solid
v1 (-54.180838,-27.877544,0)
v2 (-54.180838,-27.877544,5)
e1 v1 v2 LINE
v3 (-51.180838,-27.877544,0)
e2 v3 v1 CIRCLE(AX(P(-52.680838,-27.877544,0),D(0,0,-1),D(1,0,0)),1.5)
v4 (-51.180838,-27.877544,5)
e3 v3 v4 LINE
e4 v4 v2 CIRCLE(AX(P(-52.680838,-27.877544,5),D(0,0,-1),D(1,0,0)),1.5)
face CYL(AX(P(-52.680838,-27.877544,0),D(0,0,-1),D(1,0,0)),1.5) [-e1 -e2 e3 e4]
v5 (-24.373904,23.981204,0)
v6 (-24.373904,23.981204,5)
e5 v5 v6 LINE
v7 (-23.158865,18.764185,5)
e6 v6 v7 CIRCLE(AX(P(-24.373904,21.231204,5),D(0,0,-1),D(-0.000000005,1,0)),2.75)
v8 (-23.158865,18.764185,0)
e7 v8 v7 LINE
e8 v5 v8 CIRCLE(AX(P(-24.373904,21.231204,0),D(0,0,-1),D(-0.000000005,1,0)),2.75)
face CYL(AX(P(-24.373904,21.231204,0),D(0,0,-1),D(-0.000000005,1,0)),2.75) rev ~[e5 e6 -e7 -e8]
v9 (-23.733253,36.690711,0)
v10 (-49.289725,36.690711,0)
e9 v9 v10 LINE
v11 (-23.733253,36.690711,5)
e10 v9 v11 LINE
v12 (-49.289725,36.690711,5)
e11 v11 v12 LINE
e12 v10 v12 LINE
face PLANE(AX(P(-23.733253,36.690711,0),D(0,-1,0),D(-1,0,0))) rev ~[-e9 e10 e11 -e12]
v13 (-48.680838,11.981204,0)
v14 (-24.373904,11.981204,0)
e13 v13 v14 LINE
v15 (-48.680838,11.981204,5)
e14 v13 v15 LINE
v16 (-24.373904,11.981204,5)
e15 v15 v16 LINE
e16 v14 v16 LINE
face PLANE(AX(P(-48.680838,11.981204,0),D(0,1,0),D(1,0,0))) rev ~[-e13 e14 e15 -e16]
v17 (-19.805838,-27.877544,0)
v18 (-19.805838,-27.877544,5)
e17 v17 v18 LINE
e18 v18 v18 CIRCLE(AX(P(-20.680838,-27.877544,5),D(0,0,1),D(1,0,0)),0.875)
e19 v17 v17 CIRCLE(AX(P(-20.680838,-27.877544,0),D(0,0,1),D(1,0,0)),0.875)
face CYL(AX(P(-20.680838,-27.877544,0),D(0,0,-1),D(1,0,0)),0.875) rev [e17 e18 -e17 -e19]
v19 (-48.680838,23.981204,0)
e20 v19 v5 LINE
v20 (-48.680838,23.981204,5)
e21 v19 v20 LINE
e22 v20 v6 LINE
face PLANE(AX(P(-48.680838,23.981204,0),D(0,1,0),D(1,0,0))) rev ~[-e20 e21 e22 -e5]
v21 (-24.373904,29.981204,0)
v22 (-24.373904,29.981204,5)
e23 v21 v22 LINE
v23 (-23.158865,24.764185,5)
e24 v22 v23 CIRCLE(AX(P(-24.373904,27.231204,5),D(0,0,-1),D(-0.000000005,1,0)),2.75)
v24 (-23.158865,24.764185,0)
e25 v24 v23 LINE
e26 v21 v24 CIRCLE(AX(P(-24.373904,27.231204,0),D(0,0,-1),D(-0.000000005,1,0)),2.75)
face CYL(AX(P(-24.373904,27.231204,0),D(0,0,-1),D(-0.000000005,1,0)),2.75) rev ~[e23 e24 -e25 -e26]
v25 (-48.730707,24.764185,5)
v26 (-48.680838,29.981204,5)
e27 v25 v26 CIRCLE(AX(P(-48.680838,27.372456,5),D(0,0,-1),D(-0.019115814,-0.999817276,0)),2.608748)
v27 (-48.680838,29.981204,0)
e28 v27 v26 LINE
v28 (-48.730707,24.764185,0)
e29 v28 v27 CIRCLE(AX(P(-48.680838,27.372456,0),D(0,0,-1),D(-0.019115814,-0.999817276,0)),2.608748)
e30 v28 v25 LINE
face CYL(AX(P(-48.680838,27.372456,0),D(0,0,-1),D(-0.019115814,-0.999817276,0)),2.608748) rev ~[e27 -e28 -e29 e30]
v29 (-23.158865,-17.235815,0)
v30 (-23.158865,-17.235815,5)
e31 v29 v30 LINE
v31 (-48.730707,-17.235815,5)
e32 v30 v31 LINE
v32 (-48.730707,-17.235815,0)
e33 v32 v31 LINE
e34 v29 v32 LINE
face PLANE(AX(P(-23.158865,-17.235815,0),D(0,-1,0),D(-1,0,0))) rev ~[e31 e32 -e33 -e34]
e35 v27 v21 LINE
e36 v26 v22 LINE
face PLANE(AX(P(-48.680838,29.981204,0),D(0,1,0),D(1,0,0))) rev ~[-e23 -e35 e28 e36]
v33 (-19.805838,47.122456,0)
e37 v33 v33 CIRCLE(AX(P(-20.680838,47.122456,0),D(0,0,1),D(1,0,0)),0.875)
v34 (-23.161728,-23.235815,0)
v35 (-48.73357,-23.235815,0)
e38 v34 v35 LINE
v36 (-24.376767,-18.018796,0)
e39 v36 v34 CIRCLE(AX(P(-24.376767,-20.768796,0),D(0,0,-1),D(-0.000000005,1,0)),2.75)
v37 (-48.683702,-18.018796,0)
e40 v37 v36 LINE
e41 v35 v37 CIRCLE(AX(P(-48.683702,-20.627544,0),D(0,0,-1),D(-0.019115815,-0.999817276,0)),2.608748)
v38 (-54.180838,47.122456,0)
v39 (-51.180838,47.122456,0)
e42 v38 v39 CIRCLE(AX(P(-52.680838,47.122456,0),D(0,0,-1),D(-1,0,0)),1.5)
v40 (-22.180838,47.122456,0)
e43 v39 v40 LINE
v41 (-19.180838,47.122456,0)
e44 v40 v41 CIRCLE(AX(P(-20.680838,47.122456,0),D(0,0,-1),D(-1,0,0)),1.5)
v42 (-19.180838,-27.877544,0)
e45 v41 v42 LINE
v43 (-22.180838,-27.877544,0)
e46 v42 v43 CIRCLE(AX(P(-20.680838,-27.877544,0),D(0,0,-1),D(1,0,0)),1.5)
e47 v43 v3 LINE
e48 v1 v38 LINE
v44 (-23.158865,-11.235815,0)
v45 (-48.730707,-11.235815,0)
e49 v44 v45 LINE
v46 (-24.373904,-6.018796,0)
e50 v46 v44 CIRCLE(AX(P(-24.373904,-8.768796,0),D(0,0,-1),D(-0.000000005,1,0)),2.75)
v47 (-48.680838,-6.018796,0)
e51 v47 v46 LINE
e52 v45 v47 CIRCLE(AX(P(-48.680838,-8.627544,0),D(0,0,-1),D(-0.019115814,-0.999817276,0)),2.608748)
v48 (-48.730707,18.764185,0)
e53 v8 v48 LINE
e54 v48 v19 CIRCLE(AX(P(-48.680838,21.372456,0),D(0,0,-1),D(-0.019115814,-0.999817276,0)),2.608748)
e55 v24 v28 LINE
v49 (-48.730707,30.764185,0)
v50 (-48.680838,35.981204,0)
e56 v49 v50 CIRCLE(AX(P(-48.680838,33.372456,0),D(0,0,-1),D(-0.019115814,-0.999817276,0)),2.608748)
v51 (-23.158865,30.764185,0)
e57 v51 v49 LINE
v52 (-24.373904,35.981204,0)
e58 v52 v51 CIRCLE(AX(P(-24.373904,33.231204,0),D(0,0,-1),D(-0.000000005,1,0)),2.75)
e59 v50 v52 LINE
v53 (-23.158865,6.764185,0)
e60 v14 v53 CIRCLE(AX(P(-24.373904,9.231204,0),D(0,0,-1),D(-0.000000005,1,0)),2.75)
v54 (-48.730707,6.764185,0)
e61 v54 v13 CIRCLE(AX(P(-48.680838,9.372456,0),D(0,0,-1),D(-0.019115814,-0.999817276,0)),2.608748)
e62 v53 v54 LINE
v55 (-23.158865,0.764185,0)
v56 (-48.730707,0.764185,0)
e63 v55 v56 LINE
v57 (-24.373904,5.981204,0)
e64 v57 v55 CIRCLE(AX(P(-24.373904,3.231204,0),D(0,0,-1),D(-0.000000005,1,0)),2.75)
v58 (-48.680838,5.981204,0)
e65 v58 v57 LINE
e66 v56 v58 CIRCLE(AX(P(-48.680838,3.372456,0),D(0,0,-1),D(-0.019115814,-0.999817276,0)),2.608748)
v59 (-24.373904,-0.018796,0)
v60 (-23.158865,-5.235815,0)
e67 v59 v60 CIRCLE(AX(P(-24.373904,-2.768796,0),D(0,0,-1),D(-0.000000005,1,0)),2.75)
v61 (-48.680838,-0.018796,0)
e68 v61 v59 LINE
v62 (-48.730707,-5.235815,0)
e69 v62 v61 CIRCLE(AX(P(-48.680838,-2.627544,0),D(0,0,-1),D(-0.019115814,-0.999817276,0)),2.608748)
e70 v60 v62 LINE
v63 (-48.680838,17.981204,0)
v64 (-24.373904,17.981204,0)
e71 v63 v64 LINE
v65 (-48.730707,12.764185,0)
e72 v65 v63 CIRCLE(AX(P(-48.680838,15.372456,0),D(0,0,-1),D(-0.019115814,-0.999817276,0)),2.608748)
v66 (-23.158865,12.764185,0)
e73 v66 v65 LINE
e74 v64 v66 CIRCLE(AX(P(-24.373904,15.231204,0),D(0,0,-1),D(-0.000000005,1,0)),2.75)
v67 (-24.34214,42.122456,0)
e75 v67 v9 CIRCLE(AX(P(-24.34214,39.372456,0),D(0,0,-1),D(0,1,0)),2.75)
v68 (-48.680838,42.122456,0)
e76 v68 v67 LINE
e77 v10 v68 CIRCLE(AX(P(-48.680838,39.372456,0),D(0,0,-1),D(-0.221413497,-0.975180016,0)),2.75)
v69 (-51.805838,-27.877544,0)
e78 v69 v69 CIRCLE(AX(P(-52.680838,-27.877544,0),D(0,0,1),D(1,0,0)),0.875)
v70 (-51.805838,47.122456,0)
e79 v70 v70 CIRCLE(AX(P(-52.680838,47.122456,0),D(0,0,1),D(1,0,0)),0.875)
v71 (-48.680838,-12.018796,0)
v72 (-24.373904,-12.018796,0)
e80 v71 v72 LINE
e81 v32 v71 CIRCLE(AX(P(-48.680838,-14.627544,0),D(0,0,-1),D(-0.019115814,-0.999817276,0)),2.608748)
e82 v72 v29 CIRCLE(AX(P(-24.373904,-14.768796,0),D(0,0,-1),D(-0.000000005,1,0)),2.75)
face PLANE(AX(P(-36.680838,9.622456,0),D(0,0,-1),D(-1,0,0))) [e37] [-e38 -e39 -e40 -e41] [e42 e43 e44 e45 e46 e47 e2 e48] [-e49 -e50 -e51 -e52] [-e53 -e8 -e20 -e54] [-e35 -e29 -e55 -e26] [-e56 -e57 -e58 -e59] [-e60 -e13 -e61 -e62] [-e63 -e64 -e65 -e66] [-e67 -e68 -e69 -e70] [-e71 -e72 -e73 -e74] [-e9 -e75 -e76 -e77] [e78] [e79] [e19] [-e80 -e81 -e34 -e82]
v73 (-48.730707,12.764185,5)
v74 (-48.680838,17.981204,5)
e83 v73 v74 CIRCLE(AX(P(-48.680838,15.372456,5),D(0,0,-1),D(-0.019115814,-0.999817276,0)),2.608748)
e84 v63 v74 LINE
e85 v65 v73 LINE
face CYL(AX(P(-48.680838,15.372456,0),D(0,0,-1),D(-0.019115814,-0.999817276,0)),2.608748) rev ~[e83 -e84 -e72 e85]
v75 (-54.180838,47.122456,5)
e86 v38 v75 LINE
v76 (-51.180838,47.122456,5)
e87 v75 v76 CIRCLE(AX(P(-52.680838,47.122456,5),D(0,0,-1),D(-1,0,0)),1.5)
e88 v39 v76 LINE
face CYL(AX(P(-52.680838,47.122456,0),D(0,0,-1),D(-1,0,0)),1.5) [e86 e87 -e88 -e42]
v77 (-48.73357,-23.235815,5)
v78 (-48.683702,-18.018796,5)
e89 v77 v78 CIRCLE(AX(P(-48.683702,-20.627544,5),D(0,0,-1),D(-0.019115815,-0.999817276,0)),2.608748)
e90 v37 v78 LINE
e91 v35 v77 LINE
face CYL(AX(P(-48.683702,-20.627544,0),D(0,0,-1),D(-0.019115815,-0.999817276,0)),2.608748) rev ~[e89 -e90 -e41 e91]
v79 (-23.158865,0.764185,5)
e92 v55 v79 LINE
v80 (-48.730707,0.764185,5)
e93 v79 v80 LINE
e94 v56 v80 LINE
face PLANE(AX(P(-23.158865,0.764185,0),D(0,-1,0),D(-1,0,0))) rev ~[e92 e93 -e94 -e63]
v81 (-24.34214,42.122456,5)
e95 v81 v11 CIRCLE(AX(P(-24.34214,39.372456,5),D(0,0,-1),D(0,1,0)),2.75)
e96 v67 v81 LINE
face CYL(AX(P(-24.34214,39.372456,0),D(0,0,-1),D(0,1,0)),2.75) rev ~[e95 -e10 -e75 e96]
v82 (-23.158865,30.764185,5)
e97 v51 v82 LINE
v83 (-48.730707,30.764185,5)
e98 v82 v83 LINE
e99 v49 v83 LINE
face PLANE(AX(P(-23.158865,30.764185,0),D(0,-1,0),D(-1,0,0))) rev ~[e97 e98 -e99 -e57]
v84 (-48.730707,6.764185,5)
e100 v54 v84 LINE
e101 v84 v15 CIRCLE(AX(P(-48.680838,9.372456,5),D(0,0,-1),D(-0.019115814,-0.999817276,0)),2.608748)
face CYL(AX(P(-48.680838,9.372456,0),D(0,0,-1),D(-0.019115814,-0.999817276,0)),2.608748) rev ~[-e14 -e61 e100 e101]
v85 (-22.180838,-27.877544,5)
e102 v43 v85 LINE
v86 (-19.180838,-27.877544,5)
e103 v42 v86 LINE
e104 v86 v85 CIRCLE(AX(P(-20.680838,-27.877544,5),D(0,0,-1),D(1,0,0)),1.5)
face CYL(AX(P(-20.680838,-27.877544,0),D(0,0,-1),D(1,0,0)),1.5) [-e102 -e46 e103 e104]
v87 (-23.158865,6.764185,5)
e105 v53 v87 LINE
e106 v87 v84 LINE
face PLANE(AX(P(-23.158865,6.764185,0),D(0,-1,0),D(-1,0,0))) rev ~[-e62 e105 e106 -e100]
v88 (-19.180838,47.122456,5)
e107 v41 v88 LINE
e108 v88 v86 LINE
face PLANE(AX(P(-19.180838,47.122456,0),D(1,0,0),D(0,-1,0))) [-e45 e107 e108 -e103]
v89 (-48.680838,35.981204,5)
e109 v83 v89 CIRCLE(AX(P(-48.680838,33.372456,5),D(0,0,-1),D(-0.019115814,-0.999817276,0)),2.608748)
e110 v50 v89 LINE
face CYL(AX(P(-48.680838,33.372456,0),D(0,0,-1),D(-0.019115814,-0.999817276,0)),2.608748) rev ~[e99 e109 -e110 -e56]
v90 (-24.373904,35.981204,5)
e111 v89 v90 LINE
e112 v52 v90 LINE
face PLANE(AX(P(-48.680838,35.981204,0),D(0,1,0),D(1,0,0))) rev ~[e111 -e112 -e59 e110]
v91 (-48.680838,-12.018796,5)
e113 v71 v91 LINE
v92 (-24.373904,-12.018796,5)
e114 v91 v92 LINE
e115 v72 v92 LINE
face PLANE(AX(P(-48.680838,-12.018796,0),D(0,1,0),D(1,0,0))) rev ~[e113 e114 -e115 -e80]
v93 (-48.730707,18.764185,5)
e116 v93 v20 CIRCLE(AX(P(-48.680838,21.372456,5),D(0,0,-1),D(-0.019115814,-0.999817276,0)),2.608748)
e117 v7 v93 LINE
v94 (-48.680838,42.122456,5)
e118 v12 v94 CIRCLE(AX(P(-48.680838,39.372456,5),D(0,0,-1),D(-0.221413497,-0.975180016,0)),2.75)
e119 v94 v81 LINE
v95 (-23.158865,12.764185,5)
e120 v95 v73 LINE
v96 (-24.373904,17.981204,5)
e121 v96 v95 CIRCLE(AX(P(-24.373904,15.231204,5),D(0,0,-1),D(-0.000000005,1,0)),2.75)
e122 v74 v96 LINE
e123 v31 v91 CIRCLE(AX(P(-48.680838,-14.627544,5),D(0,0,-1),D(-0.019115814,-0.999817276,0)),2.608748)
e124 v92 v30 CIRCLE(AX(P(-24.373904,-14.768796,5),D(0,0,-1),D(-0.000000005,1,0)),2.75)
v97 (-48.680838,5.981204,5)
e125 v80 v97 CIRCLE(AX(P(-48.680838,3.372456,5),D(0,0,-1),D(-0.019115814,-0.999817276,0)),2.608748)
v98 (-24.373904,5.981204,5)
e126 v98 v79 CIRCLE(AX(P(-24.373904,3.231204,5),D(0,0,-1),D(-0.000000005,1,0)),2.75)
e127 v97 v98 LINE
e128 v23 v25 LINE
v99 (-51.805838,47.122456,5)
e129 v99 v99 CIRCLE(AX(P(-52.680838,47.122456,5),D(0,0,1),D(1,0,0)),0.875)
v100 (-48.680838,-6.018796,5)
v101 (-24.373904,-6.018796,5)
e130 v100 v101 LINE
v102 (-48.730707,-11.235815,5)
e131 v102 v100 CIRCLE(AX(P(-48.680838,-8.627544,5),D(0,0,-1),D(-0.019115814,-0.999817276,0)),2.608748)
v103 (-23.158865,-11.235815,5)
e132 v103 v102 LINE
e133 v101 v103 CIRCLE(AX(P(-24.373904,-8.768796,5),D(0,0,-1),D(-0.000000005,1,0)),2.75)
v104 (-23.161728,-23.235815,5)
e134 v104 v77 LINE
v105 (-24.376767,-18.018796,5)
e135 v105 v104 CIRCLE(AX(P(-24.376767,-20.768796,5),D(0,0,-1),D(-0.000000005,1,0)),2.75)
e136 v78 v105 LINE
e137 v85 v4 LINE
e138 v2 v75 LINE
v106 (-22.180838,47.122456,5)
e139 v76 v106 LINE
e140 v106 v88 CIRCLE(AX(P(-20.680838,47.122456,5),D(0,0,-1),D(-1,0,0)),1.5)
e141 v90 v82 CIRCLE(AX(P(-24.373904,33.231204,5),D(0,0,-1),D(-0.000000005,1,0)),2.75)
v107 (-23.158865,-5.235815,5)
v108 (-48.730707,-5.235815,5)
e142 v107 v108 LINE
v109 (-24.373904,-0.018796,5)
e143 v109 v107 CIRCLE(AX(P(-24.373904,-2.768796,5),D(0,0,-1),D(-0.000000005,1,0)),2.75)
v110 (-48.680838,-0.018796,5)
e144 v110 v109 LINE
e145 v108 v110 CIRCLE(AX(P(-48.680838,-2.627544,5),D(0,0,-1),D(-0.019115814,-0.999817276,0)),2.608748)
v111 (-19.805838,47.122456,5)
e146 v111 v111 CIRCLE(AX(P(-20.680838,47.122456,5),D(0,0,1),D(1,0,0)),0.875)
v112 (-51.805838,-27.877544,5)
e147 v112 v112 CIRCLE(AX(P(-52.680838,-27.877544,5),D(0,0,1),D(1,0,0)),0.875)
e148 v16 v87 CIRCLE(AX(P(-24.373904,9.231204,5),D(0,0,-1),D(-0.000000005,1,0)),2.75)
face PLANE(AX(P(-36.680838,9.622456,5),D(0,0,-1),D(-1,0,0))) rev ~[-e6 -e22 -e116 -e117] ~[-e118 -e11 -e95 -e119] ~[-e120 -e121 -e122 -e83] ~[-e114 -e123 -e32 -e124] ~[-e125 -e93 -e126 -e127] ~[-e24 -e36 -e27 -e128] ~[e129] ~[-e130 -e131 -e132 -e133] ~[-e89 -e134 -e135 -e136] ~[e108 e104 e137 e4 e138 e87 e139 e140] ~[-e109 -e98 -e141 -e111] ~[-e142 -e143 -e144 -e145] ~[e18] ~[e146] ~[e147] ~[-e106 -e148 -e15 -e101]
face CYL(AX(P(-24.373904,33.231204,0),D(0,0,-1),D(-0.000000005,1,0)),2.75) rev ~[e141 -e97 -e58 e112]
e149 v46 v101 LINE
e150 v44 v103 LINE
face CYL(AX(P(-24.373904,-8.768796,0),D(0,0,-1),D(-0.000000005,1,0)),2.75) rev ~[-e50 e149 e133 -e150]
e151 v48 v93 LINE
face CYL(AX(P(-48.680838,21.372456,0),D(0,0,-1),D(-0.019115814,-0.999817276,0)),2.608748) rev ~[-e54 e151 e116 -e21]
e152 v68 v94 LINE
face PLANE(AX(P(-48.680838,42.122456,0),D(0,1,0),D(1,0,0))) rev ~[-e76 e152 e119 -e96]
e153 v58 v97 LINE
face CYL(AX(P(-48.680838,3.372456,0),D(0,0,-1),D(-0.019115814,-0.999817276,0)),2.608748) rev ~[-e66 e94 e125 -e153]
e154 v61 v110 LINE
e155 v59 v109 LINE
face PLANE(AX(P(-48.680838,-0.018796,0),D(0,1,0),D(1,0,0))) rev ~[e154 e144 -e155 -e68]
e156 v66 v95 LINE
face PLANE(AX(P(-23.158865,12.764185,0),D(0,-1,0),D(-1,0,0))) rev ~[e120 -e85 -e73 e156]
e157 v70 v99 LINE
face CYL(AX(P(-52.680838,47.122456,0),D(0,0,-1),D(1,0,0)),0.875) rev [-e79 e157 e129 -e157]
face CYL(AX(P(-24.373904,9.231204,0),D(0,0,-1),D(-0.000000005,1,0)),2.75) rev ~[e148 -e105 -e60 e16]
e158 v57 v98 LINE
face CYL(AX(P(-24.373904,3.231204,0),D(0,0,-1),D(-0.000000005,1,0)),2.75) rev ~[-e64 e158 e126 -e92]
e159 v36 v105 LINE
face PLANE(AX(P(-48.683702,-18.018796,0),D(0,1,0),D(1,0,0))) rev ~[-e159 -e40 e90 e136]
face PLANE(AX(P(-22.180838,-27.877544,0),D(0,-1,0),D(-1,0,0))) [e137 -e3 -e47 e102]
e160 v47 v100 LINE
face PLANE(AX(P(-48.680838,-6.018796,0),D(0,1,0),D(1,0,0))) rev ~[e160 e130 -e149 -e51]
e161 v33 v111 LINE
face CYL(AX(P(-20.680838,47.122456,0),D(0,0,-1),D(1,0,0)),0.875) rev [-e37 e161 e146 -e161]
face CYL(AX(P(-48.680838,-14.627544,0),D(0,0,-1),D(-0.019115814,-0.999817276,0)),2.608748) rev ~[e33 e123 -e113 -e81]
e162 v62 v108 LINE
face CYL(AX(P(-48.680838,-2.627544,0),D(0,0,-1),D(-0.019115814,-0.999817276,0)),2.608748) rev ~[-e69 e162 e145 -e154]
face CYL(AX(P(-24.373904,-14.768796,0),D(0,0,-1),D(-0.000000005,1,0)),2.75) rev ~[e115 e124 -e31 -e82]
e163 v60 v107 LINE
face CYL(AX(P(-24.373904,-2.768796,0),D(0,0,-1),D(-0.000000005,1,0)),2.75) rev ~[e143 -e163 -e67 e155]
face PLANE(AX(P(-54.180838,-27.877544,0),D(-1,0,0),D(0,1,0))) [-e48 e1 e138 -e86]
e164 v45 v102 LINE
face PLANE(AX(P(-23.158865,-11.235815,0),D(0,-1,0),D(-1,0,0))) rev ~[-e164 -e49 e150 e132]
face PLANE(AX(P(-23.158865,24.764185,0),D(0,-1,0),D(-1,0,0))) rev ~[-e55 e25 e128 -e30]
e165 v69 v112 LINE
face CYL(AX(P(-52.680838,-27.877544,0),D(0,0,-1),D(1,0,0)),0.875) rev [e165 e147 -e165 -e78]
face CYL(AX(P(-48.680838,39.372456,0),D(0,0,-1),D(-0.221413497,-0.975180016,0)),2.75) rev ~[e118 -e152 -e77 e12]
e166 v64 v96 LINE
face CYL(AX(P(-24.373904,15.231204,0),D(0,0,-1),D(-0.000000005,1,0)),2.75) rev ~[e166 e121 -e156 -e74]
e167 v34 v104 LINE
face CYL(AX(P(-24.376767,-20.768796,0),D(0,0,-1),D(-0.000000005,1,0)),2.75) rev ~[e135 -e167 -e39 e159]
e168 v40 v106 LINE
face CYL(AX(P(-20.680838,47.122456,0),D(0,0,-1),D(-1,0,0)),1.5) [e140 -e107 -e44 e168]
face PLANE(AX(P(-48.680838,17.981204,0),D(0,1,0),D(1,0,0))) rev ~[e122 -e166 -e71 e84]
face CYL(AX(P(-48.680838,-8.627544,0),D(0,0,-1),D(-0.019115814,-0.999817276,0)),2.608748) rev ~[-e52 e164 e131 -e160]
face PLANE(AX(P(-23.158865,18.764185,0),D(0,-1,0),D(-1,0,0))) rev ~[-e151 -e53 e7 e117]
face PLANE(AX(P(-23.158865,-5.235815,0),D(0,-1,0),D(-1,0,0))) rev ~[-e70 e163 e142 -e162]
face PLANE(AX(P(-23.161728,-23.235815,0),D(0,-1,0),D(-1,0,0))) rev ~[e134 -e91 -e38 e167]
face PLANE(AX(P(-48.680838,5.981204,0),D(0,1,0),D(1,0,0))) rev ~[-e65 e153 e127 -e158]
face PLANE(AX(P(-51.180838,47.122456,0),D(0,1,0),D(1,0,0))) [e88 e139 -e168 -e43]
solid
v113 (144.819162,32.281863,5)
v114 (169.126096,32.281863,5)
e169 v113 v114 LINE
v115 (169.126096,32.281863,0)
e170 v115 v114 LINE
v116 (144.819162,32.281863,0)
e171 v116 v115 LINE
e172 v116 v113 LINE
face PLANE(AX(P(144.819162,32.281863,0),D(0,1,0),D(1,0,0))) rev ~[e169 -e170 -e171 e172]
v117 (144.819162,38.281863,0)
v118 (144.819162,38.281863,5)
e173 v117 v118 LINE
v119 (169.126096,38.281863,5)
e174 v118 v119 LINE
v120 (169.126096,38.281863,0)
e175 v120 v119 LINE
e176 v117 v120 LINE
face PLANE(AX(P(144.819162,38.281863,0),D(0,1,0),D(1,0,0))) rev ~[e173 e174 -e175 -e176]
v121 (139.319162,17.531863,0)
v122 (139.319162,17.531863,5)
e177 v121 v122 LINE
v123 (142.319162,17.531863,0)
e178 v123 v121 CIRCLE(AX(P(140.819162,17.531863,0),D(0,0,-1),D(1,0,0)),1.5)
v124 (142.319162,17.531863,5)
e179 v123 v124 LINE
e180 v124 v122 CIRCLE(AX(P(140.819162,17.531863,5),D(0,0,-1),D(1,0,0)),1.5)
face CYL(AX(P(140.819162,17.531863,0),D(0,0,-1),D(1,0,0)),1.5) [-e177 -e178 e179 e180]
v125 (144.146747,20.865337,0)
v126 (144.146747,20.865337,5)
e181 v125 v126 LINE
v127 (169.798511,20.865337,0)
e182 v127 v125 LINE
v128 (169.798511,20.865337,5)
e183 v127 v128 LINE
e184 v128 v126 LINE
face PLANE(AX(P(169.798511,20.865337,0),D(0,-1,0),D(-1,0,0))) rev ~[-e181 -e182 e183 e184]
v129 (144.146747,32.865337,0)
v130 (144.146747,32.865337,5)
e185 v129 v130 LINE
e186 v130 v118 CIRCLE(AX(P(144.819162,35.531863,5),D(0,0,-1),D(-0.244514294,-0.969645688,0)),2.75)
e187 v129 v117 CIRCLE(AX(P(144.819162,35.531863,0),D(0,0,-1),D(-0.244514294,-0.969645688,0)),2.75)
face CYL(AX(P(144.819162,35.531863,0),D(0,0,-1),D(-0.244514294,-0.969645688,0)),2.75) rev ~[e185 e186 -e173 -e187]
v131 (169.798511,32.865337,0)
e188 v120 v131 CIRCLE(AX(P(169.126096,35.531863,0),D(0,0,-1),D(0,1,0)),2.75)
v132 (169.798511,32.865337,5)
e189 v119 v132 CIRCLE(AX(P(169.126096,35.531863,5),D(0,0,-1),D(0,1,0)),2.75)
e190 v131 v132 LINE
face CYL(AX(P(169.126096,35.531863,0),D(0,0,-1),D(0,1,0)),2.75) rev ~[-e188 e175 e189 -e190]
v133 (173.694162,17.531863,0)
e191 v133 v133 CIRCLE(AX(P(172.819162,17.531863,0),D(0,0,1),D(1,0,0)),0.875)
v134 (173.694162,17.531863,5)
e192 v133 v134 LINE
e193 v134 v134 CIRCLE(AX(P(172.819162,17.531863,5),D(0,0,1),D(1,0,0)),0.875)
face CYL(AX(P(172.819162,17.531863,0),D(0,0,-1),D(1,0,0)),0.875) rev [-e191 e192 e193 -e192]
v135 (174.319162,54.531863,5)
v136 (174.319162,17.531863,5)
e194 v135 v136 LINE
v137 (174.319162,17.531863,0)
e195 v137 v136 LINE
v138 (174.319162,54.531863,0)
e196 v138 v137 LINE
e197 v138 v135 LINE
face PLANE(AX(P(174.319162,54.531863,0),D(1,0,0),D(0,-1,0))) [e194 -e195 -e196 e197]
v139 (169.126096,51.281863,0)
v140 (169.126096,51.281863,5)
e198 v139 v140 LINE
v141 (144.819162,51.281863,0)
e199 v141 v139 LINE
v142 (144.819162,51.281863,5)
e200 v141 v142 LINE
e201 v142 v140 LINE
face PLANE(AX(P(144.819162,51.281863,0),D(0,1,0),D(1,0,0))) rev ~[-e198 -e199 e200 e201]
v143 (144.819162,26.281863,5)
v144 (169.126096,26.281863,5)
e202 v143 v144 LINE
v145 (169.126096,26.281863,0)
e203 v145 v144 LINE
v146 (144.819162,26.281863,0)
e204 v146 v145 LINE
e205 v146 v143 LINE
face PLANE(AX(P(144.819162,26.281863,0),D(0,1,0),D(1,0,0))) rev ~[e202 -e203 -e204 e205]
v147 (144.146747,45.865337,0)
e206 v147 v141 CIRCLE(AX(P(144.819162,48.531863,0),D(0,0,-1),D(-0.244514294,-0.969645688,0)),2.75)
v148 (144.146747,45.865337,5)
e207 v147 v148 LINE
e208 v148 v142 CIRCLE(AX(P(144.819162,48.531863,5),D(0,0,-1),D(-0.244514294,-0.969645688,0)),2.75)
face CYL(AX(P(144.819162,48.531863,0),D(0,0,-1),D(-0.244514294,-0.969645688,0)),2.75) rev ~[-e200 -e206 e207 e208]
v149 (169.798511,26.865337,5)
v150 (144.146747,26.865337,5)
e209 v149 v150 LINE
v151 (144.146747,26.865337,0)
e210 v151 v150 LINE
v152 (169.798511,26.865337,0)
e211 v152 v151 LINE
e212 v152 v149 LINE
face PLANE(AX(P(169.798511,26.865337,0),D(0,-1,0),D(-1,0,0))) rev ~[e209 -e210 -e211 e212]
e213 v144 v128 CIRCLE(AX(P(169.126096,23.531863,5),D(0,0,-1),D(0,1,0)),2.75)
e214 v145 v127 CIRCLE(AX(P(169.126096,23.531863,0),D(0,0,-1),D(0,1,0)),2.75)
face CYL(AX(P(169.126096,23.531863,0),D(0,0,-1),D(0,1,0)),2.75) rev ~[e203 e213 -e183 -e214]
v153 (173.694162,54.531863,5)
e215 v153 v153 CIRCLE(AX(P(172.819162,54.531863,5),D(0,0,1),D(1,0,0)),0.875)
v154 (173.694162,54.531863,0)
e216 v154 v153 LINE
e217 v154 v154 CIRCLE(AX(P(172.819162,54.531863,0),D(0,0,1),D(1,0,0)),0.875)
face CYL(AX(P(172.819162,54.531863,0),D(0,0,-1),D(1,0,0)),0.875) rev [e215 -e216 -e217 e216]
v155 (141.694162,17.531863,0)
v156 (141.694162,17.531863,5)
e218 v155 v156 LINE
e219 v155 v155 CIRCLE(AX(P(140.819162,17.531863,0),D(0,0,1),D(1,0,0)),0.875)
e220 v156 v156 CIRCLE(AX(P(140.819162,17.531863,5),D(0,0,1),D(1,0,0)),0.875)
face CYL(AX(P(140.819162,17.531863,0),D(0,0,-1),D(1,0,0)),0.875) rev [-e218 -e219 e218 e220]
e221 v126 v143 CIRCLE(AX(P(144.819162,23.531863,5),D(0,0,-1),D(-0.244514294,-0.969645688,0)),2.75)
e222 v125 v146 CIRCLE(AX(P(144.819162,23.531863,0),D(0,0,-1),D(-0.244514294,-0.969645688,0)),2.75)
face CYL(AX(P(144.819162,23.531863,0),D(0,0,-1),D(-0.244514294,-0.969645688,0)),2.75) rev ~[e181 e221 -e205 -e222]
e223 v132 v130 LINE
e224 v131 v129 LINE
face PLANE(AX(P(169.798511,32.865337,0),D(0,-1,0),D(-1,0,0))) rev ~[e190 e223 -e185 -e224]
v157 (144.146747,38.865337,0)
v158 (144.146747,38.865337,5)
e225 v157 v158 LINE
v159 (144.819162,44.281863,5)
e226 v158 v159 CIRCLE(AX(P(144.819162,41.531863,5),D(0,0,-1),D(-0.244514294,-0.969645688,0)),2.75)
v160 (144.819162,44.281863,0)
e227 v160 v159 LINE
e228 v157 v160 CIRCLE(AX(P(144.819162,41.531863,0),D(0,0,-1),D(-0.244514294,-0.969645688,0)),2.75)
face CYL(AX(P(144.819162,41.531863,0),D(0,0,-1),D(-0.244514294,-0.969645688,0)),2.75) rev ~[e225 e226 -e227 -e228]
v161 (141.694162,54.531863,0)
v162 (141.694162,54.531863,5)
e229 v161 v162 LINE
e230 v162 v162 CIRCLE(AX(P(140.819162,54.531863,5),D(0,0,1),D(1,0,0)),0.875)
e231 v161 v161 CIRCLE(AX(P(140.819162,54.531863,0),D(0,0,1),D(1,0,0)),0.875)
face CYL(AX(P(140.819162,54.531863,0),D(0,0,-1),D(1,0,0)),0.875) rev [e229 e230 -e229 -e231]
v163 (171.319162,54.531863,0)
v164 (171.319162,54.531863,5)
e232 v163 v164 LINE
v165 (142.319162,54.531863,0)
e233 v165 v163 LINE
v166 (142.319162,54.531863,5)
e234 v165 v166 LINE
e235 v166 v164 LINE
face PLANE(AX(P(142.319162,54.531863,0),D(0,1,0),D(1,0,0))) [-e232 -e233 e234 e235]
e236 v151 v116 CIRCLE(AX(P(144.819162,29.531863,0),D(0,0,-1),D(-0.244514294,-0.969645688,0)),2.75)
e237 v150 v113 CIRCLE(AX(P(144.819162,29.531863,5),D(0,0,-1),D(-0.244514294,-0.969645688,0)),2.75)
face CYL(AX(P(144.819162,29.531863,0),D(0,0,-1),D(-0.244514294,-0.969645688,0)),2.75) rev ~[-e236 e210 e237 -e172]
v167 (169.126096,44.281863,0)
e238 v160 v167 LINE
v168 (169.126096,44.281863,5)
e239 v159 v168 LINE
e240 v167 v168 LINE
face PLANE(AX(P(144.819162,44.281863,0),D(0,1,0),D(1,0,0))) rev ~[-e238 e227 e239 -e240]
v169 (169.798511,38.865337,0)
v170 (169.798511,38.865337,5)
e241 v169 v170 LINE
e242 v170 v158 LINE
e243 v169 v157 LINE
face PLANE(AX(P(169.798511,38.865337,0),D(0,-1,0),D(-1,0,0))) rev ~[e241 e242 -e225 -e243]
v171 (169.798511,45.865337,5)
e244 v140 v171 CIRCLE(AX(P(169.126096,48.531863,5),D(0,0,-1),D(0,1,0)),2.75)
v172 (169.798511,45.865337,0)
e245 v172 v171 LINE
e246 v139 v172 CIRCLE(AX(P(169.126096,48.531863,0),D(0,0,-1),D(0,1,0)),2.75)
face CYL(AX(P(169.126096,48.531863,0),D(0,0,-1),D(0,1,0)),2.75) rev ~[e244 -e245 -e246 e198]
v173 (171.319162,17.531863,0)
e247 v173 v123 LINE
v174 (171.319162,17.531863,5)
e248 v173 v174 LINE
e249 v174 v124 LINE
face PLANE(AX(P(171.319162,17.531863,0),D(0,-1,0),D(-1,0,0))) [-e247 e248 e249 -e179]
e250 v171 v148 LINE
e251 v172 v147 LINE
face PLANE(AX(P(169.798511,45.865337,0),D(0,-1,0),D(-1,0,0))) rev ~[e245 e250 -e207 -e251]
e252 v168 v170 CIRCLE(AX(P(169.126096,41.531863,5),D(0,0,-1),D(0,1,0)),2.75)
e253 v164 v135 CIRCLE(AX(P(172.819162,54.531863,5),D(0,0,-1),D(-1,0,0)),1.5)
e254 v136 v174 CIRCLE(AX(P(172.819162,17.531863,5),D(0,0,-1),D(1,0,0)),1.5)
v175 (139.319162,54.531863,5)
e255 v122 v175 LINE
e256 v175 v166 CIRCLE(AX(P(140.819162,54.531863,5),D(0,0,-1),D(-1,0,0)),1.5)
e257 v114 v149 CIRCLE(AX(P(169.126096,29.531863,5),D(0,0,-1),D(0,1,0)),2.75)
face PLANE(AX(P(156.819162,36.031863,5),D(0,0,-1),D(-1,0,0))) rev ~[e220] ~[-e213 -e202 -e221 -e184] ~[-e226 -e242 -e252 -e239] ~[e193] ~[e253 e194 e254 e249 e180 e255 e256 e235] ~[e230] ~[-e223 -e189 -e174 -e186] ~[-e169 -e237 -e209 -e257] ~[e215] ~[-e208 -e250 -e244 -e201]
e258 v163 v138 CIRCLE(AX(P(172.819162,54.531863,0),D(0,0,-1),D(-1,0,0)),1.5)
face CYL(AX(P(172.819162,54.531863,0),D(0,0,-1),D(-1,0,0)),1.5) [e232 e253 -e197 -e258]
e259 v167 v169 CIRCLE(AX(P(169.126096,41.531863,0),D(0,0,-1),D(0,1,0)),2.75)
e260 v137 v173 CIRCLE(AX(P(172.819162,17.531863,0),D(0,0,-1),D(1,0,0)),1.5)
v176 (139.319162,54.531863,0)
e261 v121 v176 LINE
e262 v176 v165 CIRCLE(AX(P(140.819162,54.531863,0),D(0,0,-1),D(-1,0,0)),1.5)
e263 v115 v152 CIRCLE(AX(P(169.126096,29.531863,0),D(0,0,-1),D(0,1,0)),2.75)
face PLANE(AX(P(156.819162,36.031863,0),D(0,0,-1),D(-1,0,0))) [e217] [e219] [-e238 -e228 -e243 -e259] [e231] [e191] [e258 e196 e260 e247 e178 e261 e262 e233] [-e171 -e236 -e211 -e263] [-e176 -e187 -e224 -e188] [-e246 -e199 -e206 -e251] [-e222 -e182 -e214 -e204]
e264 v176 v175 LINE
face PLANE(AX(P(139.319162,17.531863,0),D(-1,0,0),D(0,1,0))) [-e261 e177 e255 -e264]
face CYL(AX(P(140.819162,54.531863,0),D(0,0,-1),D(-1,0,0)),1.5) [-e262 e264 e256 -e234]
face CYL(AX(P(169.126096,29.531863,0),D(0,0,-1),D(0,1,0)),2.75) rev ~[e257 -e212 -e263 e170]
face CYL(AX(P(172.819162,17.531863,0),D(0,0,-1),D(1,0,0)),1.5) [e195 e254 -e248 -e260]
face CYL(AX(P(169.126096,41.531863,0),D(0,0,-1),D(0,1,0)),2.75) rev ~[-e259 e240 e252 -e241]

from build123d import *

# Parameters (mm, degrees)
SKETCH1_R             = 0.875
BOSS_EXTRUDE2_DEPTH   = 5
BOSS_EXTRUDE2_2_DEPTH = 5


with BuildPart() as part:
    # Sketch1 → Boss-Extrude2 (new body)
    with BuildSketch(Plane.XY):
        with BuildLine():
            Line((-51.180838319, 47.12245603), (-22.180838319, 47.12245603))
            ThreePointArc((-22.180838319, 47.12245603), (-20.680838319, 48.62245603), (-19.180838319, 47.12245603))
            Line((-19.180838319, 47.12245603), (-19.180838319, -27.87754397))
            ThreePointArc((-19.180838319, -27.87754397), (-20.680838319, -29.37754397), (-22.180838319, -27.87754397))
            Line((-22.180838319, -27.87754397), (-51.180838319, -27.87754397))
            ThreePointArc((-51.180838319, -27.87754397), (-52.680838319, -29.37754397), (-54.180838319, -27.87754397))
            Line((-54.180838319, -27.87754397), (-54.180838319, 47.12245603))
            ThreePointArc((-54.180838319, 47.12245603), (-52.680838319, 48.62245603), (-51.180838319, 47.12245603))
        make_face()
        with Locations((-20.680838319, -27.87754397)):
            Circle(SKETCH1_R, mode=Mode.SUBTRACT)
        with Locations((-52.680838319, -27.87754397)):
            Circle(SKETCH1_R, mode=Mode.SUBTRACT)
        with Locations((-20.680838319, 47.12245603)):
            Circle(SKETCH1_R, mode=Mode.SUBTRACT)
        with Locations((-52.680838319, 47.12245603)):
            Circle(SKETCH1_R, mode=Mode.SUBTRACT)
        with BuildLine():
            Line((-48.680838319, 35.981203595), (-24.373903693, 35.981203595))
            ThreePointArc((-24.373903693, 35.981203595), (-21.695583243, 33.854982115), (-23.158864594, 30.764185147))
            Line((-23.158864594, 30.764185147), (-48.730706654, 30.764185147))
            ThreePointArc((-48.730706654, 30.764185147), (-51.289466711, 33.397391337), (-48.680838319, 35.981203595))
        make_face(mode=Mode.SUBTRACT)
        with BuildLine():
            Line((-48.680838319, 42.12245603), (-24.342140097, 42.12245603))
            ThreePointArc((-24.342140097, 42.12245603), (-21.609257107, 39.678806426), (-23.73325298, 36.690710987))
            Line((-23.73325298, 36.690710987), (-49.289725436, 36.690710987))
            ThreePointArc((-49.289725436, 36.690710987), (-51.413721309, 39.678806426), (-48.680838319, 42.12245603))
        make_face(mode=Mode.SUBTRACT)
        with BuildLine():
            Line((-48.680838319, 29.981203595), (-24.373903693, 29.981203595))
            ThreePointArc((-24.373903693, 29.981203595), (-21.695583243, 27.854982115), (-23.158864594, 24.764185147))
            Line((-23.158864594, 24.764185147), (-48.730706654, 24.764185147))
            ThreePointArc((-48.730706654, 24.764185147), (-51.289466711, 27.397391337), (-48.680838319, 29.981203595))
        make_face(mode=Mode.SUBTRACT)
        with BuildLine():
            Line((-48.680838319, 23.981203595), (-24.373903693, 23.981203595))
            ThreePointArc((-24.373903693, 23.981203595), (-21.695583243, 21.854982115), (-23.158864594, 18.764185147))
            Line((-23.158864594, 18.764185147), (-48.730706654, 18.764185147))
            ThreePointArc((-48.730706654, 18.764185147), (-51.289466711, 21.397391337), (-48.680838319, 23.981203595))
        make_face(mode=Mode.SUBTRACT)
        with BuildLine():
            Line((-48.680838319, 17.981203595), (-24.373903693, 17.981203595))
            ThreePointArc((-24.373903693, 17.981203595), (-21.695583243, 15.854982115), (-23.158864594, 12.764185147))
            Line((-23.158864594, 12.764185147), (-48.730706654, 12.764185147))
            ThreePointArc((-48.730706654, 12.764185147), (-51.289466711, 15.397391337), (-48.680838319, 17.981203595))
        make_face(mode=Mode.SUBTRACT)
        with BuildLine():
            Line((-48.680838319, 11.981203595), (-24.373903693, 11.981203595))
            ThreePointArc((-24.373903693, 11.981203595), (-21.695583243, 9.854982115), (-23.158864594, 6.764185147))
            Line((-23.158864594, 6.764185147), (-48.730706654, 6.764185147))
            ThreePointArc((-48.730706654, 6.764185147), (-51.289466711, 9.397391337), (-48.680838319, 11.981203595))
        make_face(mode=Mode.SUBTRACT)
        with BuildLine():
            Line((-48.680838319, 5.981203595), (-24.373903693, 5.981203595))
            ThreePointArc((-24.373903693, 5.981203595), (-21.695583243, 3.854982115), (-23.158864594, 0.764185147))
            Line((-23.158864594, 0.764185147), (-48.730706654, 0.764185147))
            ThreePointArc((-48.730706654, 0.764185147), (-51.289466711, 3.397391337), (-48.680838319, 5.981203595))
        make_face(mode=Mode.SUBTRACT)
        with BuildLine():
            Line((-48.680838319, -0.018796405), (-24.373903693, -0.018796405))
            ThreePointArc((-24.373903693, -0.018796405), (-21.695583243, -2.145017885), (-23.158864594, -5.235814853))
            Line((-23.158864594, -5.235814853), (-48.730706654, -5.235814853))
            ThreePointArc((-48.730706654, -5.235814853), (-51.289466711, -2.602608663), (-48.680838319, -0.018796405))
        make_face(mode=Mode.SUBTRACT)
        with BuildLine():
            Line((-48.680838319, -6.018796405), (-24.373903693, -6.018796405))
            ThreePointArc((-24.373903693, -6.018796405), (-21.695583243, -8.145017885), (-23.158864594, -11.235814853))
            Line((-23.158864594, -11.235814853), (-48.730706654, -11.235814853))
            ThreePointArc((-48.730706654, -11.235814853), (-51.289466711, -8.602608663), (-48.680838319, -6.018796405))
        make_face(mode=Mode.SUBTRACT)
        with BuildLine():
            Line((-48.680838319, -12.018796405), (-24.373903693, -12.018796405))
            ThreePointArc((-24.373903693, -12.018796405), (-21.695583243, -14.145017885), (-23.158864594, -17.235814853))
            Line((-23.158864594, -17.235814853), (-48.730706654, -17.235814853))
            ThreePointArc((-48.730706654, -17.235814853), (-51.289466711, -14.602608663), (-48.680838319, -12.018796405))
        make_face(mode=Mode.SUBTRACT)
        with BuildLine():
            Line((-48.683701898, -18.018796405), (-24.376767271, -18.018796405))
            ThreePointArc((-24.376767271, -18.018796405), (-21.698446821, -20.145017885), (-23.161728173, -23.235814853))
            Line((-23.161728173, -23.235814853), (-48.733570233, -23.235814853))
            ThreePointArc((-48.733570233, -23.235814853), (-51.292330289, -20.602608663), (-48.683701898, -18.018796405))
        make_face(mode=Mode.SUBTRACT)
    extrude(amount=BOSS_EXTRUDE2_DEPTH)


with BuildPart() as body_2:
    # Sketch1 → Boss-Extrude2 2 (new body)
    with BuildSketch(Plane.XY):
        with BuildLine():
            Line((142.319161681, 54.53186273), (171.319161681, 54.53186273))
            ThreePointArc((171.319161681, 54.53186273), (172.819161681, 56.03186273), (174.319161681, 54.53186273))
            Line((174.319161681, 54.53186273), (174.319161681, 17.53186273))
            ThreePointArc((174.319161681, 17.53186273), (172.819161681, 16.03186273), (171.319161681, 17.53186273))
            Line((171.319161681, 17.53186273), (142.319161681, 17.53186273))
            ThreePointArc((142.319161681, 17.53186273), (140.819161681, 16.03186273), (139.319161681, 17.53186273))
            Line((139.319161681, 17.53186273), (139.319161681, 54.53186273))
            ThreePointArc((139.319161681, 54.53186273), (140.819161681, 56.03186273), (142.319161681, 54.53186273))
        make_face()
        with Locations((140.819161681, 54.53186273)):
            Circle(SKETCH1_R, mode=Mode.SUBTRACT)
        with Locations((172.819161681, 54.53186273)):
            Circle(SKETCH1_R, mode=Mode.SUBTRACT)
        with Locations((172.819161681, 17.53186273)):
            Circle(SKETCH1_R, mode=Mode.SUBTRACT)
        with Locations((140.819161681, 17.53186273)):
            Circle(SKETCH1_R, mode=Mode.SUBTRACT)
        with BuildLine():
            Line((144.819161681, 51.28186273), (169.126096307, 51.28186273))
            ThreePointArc((169.126096307, 51.28186273), (171.85514793, 48.870650632), (169.798510615, 45.865337088))
            Line((169.798510615, 45.865337088), (144.146747373, 45.865337088))
            ThreePointArc((144.146747373, 45.865337088), (142.090110058, 48.870650632), (144.819161681, 51.28186273))
        make_face(mode=Mode.SUBTRACT)
        with BuildLine():
            Line((144.819161681, 44.28186273), (169.126096307, 44.28186273))
            ThreePointArc((169.126096307, 44.28186273), (171.85514793, 41.870650632), (169.798510615, 38.865337088))
            Line((169.798510615, 38.865337088), (144.146747373, 38.865337088))
            ThreePointArc((144.146747373, 38.865337088), (142.090110058, 41.870650632), (144.819161681, 44.28186273))
        make_face(mode=Mode.SUBTRACT)
        with BuildLine():
            Line((144.819161681, 38.28186273), (169.126096307, 38.28186273))
            ThreePointArc((169.126096307, 38.28186273), (171.85514793, 35.870650632), (169.798510615, 32.865337088))
            Line((169.798510615, 32.865337088), (144.146747373, 32.865337088))
            ThreePointArc((144.146747373, 32.865337088), (142.090110058, 35.870650632), (144.819161681, 38.28186273))
        make_face(mode=Mode.SUBTRACT)
        with BuildLine():
            Line((144.819161681, 32.28186273), (169.126096307, 32.28186273))
            ThreePointArc((169.126096307, 32.28186273), (171.85514793, 29.870650632), (169.798510615, 26.865337088))
            Line((169.798510615, 26.865337088), (144.146747373, 26.865337088))
            ThreePointArc((144.146747373, 26.865337088), (142.090110058, 29.870650632), (144.819161681, 32.28186273))
        make_face(mode=Mode.SUBTRACT)
        with BuildLine():
            Line((144.819161681, 26.28186273), (169.126096307, 26.28186273))
            ThreePointArc((169.126096307, 26.28186273), (171.85514793, 23.870650632), (169.798510615, 20.865337088))
            Line((169.798510615, 20.865337088), (144.146747373, 20.865337088))
            ThreePointArc((144.146747373, 20.865337088), (142.090110058, 23.870650632), (144.819161681, 26.28186273))
        make_face(mode=Mode.SUBTRACT)
    extrude(amount=BOSS_EXTRUDE2_2_DEPTH)


solid = Compound([part.part, body_2.part])
